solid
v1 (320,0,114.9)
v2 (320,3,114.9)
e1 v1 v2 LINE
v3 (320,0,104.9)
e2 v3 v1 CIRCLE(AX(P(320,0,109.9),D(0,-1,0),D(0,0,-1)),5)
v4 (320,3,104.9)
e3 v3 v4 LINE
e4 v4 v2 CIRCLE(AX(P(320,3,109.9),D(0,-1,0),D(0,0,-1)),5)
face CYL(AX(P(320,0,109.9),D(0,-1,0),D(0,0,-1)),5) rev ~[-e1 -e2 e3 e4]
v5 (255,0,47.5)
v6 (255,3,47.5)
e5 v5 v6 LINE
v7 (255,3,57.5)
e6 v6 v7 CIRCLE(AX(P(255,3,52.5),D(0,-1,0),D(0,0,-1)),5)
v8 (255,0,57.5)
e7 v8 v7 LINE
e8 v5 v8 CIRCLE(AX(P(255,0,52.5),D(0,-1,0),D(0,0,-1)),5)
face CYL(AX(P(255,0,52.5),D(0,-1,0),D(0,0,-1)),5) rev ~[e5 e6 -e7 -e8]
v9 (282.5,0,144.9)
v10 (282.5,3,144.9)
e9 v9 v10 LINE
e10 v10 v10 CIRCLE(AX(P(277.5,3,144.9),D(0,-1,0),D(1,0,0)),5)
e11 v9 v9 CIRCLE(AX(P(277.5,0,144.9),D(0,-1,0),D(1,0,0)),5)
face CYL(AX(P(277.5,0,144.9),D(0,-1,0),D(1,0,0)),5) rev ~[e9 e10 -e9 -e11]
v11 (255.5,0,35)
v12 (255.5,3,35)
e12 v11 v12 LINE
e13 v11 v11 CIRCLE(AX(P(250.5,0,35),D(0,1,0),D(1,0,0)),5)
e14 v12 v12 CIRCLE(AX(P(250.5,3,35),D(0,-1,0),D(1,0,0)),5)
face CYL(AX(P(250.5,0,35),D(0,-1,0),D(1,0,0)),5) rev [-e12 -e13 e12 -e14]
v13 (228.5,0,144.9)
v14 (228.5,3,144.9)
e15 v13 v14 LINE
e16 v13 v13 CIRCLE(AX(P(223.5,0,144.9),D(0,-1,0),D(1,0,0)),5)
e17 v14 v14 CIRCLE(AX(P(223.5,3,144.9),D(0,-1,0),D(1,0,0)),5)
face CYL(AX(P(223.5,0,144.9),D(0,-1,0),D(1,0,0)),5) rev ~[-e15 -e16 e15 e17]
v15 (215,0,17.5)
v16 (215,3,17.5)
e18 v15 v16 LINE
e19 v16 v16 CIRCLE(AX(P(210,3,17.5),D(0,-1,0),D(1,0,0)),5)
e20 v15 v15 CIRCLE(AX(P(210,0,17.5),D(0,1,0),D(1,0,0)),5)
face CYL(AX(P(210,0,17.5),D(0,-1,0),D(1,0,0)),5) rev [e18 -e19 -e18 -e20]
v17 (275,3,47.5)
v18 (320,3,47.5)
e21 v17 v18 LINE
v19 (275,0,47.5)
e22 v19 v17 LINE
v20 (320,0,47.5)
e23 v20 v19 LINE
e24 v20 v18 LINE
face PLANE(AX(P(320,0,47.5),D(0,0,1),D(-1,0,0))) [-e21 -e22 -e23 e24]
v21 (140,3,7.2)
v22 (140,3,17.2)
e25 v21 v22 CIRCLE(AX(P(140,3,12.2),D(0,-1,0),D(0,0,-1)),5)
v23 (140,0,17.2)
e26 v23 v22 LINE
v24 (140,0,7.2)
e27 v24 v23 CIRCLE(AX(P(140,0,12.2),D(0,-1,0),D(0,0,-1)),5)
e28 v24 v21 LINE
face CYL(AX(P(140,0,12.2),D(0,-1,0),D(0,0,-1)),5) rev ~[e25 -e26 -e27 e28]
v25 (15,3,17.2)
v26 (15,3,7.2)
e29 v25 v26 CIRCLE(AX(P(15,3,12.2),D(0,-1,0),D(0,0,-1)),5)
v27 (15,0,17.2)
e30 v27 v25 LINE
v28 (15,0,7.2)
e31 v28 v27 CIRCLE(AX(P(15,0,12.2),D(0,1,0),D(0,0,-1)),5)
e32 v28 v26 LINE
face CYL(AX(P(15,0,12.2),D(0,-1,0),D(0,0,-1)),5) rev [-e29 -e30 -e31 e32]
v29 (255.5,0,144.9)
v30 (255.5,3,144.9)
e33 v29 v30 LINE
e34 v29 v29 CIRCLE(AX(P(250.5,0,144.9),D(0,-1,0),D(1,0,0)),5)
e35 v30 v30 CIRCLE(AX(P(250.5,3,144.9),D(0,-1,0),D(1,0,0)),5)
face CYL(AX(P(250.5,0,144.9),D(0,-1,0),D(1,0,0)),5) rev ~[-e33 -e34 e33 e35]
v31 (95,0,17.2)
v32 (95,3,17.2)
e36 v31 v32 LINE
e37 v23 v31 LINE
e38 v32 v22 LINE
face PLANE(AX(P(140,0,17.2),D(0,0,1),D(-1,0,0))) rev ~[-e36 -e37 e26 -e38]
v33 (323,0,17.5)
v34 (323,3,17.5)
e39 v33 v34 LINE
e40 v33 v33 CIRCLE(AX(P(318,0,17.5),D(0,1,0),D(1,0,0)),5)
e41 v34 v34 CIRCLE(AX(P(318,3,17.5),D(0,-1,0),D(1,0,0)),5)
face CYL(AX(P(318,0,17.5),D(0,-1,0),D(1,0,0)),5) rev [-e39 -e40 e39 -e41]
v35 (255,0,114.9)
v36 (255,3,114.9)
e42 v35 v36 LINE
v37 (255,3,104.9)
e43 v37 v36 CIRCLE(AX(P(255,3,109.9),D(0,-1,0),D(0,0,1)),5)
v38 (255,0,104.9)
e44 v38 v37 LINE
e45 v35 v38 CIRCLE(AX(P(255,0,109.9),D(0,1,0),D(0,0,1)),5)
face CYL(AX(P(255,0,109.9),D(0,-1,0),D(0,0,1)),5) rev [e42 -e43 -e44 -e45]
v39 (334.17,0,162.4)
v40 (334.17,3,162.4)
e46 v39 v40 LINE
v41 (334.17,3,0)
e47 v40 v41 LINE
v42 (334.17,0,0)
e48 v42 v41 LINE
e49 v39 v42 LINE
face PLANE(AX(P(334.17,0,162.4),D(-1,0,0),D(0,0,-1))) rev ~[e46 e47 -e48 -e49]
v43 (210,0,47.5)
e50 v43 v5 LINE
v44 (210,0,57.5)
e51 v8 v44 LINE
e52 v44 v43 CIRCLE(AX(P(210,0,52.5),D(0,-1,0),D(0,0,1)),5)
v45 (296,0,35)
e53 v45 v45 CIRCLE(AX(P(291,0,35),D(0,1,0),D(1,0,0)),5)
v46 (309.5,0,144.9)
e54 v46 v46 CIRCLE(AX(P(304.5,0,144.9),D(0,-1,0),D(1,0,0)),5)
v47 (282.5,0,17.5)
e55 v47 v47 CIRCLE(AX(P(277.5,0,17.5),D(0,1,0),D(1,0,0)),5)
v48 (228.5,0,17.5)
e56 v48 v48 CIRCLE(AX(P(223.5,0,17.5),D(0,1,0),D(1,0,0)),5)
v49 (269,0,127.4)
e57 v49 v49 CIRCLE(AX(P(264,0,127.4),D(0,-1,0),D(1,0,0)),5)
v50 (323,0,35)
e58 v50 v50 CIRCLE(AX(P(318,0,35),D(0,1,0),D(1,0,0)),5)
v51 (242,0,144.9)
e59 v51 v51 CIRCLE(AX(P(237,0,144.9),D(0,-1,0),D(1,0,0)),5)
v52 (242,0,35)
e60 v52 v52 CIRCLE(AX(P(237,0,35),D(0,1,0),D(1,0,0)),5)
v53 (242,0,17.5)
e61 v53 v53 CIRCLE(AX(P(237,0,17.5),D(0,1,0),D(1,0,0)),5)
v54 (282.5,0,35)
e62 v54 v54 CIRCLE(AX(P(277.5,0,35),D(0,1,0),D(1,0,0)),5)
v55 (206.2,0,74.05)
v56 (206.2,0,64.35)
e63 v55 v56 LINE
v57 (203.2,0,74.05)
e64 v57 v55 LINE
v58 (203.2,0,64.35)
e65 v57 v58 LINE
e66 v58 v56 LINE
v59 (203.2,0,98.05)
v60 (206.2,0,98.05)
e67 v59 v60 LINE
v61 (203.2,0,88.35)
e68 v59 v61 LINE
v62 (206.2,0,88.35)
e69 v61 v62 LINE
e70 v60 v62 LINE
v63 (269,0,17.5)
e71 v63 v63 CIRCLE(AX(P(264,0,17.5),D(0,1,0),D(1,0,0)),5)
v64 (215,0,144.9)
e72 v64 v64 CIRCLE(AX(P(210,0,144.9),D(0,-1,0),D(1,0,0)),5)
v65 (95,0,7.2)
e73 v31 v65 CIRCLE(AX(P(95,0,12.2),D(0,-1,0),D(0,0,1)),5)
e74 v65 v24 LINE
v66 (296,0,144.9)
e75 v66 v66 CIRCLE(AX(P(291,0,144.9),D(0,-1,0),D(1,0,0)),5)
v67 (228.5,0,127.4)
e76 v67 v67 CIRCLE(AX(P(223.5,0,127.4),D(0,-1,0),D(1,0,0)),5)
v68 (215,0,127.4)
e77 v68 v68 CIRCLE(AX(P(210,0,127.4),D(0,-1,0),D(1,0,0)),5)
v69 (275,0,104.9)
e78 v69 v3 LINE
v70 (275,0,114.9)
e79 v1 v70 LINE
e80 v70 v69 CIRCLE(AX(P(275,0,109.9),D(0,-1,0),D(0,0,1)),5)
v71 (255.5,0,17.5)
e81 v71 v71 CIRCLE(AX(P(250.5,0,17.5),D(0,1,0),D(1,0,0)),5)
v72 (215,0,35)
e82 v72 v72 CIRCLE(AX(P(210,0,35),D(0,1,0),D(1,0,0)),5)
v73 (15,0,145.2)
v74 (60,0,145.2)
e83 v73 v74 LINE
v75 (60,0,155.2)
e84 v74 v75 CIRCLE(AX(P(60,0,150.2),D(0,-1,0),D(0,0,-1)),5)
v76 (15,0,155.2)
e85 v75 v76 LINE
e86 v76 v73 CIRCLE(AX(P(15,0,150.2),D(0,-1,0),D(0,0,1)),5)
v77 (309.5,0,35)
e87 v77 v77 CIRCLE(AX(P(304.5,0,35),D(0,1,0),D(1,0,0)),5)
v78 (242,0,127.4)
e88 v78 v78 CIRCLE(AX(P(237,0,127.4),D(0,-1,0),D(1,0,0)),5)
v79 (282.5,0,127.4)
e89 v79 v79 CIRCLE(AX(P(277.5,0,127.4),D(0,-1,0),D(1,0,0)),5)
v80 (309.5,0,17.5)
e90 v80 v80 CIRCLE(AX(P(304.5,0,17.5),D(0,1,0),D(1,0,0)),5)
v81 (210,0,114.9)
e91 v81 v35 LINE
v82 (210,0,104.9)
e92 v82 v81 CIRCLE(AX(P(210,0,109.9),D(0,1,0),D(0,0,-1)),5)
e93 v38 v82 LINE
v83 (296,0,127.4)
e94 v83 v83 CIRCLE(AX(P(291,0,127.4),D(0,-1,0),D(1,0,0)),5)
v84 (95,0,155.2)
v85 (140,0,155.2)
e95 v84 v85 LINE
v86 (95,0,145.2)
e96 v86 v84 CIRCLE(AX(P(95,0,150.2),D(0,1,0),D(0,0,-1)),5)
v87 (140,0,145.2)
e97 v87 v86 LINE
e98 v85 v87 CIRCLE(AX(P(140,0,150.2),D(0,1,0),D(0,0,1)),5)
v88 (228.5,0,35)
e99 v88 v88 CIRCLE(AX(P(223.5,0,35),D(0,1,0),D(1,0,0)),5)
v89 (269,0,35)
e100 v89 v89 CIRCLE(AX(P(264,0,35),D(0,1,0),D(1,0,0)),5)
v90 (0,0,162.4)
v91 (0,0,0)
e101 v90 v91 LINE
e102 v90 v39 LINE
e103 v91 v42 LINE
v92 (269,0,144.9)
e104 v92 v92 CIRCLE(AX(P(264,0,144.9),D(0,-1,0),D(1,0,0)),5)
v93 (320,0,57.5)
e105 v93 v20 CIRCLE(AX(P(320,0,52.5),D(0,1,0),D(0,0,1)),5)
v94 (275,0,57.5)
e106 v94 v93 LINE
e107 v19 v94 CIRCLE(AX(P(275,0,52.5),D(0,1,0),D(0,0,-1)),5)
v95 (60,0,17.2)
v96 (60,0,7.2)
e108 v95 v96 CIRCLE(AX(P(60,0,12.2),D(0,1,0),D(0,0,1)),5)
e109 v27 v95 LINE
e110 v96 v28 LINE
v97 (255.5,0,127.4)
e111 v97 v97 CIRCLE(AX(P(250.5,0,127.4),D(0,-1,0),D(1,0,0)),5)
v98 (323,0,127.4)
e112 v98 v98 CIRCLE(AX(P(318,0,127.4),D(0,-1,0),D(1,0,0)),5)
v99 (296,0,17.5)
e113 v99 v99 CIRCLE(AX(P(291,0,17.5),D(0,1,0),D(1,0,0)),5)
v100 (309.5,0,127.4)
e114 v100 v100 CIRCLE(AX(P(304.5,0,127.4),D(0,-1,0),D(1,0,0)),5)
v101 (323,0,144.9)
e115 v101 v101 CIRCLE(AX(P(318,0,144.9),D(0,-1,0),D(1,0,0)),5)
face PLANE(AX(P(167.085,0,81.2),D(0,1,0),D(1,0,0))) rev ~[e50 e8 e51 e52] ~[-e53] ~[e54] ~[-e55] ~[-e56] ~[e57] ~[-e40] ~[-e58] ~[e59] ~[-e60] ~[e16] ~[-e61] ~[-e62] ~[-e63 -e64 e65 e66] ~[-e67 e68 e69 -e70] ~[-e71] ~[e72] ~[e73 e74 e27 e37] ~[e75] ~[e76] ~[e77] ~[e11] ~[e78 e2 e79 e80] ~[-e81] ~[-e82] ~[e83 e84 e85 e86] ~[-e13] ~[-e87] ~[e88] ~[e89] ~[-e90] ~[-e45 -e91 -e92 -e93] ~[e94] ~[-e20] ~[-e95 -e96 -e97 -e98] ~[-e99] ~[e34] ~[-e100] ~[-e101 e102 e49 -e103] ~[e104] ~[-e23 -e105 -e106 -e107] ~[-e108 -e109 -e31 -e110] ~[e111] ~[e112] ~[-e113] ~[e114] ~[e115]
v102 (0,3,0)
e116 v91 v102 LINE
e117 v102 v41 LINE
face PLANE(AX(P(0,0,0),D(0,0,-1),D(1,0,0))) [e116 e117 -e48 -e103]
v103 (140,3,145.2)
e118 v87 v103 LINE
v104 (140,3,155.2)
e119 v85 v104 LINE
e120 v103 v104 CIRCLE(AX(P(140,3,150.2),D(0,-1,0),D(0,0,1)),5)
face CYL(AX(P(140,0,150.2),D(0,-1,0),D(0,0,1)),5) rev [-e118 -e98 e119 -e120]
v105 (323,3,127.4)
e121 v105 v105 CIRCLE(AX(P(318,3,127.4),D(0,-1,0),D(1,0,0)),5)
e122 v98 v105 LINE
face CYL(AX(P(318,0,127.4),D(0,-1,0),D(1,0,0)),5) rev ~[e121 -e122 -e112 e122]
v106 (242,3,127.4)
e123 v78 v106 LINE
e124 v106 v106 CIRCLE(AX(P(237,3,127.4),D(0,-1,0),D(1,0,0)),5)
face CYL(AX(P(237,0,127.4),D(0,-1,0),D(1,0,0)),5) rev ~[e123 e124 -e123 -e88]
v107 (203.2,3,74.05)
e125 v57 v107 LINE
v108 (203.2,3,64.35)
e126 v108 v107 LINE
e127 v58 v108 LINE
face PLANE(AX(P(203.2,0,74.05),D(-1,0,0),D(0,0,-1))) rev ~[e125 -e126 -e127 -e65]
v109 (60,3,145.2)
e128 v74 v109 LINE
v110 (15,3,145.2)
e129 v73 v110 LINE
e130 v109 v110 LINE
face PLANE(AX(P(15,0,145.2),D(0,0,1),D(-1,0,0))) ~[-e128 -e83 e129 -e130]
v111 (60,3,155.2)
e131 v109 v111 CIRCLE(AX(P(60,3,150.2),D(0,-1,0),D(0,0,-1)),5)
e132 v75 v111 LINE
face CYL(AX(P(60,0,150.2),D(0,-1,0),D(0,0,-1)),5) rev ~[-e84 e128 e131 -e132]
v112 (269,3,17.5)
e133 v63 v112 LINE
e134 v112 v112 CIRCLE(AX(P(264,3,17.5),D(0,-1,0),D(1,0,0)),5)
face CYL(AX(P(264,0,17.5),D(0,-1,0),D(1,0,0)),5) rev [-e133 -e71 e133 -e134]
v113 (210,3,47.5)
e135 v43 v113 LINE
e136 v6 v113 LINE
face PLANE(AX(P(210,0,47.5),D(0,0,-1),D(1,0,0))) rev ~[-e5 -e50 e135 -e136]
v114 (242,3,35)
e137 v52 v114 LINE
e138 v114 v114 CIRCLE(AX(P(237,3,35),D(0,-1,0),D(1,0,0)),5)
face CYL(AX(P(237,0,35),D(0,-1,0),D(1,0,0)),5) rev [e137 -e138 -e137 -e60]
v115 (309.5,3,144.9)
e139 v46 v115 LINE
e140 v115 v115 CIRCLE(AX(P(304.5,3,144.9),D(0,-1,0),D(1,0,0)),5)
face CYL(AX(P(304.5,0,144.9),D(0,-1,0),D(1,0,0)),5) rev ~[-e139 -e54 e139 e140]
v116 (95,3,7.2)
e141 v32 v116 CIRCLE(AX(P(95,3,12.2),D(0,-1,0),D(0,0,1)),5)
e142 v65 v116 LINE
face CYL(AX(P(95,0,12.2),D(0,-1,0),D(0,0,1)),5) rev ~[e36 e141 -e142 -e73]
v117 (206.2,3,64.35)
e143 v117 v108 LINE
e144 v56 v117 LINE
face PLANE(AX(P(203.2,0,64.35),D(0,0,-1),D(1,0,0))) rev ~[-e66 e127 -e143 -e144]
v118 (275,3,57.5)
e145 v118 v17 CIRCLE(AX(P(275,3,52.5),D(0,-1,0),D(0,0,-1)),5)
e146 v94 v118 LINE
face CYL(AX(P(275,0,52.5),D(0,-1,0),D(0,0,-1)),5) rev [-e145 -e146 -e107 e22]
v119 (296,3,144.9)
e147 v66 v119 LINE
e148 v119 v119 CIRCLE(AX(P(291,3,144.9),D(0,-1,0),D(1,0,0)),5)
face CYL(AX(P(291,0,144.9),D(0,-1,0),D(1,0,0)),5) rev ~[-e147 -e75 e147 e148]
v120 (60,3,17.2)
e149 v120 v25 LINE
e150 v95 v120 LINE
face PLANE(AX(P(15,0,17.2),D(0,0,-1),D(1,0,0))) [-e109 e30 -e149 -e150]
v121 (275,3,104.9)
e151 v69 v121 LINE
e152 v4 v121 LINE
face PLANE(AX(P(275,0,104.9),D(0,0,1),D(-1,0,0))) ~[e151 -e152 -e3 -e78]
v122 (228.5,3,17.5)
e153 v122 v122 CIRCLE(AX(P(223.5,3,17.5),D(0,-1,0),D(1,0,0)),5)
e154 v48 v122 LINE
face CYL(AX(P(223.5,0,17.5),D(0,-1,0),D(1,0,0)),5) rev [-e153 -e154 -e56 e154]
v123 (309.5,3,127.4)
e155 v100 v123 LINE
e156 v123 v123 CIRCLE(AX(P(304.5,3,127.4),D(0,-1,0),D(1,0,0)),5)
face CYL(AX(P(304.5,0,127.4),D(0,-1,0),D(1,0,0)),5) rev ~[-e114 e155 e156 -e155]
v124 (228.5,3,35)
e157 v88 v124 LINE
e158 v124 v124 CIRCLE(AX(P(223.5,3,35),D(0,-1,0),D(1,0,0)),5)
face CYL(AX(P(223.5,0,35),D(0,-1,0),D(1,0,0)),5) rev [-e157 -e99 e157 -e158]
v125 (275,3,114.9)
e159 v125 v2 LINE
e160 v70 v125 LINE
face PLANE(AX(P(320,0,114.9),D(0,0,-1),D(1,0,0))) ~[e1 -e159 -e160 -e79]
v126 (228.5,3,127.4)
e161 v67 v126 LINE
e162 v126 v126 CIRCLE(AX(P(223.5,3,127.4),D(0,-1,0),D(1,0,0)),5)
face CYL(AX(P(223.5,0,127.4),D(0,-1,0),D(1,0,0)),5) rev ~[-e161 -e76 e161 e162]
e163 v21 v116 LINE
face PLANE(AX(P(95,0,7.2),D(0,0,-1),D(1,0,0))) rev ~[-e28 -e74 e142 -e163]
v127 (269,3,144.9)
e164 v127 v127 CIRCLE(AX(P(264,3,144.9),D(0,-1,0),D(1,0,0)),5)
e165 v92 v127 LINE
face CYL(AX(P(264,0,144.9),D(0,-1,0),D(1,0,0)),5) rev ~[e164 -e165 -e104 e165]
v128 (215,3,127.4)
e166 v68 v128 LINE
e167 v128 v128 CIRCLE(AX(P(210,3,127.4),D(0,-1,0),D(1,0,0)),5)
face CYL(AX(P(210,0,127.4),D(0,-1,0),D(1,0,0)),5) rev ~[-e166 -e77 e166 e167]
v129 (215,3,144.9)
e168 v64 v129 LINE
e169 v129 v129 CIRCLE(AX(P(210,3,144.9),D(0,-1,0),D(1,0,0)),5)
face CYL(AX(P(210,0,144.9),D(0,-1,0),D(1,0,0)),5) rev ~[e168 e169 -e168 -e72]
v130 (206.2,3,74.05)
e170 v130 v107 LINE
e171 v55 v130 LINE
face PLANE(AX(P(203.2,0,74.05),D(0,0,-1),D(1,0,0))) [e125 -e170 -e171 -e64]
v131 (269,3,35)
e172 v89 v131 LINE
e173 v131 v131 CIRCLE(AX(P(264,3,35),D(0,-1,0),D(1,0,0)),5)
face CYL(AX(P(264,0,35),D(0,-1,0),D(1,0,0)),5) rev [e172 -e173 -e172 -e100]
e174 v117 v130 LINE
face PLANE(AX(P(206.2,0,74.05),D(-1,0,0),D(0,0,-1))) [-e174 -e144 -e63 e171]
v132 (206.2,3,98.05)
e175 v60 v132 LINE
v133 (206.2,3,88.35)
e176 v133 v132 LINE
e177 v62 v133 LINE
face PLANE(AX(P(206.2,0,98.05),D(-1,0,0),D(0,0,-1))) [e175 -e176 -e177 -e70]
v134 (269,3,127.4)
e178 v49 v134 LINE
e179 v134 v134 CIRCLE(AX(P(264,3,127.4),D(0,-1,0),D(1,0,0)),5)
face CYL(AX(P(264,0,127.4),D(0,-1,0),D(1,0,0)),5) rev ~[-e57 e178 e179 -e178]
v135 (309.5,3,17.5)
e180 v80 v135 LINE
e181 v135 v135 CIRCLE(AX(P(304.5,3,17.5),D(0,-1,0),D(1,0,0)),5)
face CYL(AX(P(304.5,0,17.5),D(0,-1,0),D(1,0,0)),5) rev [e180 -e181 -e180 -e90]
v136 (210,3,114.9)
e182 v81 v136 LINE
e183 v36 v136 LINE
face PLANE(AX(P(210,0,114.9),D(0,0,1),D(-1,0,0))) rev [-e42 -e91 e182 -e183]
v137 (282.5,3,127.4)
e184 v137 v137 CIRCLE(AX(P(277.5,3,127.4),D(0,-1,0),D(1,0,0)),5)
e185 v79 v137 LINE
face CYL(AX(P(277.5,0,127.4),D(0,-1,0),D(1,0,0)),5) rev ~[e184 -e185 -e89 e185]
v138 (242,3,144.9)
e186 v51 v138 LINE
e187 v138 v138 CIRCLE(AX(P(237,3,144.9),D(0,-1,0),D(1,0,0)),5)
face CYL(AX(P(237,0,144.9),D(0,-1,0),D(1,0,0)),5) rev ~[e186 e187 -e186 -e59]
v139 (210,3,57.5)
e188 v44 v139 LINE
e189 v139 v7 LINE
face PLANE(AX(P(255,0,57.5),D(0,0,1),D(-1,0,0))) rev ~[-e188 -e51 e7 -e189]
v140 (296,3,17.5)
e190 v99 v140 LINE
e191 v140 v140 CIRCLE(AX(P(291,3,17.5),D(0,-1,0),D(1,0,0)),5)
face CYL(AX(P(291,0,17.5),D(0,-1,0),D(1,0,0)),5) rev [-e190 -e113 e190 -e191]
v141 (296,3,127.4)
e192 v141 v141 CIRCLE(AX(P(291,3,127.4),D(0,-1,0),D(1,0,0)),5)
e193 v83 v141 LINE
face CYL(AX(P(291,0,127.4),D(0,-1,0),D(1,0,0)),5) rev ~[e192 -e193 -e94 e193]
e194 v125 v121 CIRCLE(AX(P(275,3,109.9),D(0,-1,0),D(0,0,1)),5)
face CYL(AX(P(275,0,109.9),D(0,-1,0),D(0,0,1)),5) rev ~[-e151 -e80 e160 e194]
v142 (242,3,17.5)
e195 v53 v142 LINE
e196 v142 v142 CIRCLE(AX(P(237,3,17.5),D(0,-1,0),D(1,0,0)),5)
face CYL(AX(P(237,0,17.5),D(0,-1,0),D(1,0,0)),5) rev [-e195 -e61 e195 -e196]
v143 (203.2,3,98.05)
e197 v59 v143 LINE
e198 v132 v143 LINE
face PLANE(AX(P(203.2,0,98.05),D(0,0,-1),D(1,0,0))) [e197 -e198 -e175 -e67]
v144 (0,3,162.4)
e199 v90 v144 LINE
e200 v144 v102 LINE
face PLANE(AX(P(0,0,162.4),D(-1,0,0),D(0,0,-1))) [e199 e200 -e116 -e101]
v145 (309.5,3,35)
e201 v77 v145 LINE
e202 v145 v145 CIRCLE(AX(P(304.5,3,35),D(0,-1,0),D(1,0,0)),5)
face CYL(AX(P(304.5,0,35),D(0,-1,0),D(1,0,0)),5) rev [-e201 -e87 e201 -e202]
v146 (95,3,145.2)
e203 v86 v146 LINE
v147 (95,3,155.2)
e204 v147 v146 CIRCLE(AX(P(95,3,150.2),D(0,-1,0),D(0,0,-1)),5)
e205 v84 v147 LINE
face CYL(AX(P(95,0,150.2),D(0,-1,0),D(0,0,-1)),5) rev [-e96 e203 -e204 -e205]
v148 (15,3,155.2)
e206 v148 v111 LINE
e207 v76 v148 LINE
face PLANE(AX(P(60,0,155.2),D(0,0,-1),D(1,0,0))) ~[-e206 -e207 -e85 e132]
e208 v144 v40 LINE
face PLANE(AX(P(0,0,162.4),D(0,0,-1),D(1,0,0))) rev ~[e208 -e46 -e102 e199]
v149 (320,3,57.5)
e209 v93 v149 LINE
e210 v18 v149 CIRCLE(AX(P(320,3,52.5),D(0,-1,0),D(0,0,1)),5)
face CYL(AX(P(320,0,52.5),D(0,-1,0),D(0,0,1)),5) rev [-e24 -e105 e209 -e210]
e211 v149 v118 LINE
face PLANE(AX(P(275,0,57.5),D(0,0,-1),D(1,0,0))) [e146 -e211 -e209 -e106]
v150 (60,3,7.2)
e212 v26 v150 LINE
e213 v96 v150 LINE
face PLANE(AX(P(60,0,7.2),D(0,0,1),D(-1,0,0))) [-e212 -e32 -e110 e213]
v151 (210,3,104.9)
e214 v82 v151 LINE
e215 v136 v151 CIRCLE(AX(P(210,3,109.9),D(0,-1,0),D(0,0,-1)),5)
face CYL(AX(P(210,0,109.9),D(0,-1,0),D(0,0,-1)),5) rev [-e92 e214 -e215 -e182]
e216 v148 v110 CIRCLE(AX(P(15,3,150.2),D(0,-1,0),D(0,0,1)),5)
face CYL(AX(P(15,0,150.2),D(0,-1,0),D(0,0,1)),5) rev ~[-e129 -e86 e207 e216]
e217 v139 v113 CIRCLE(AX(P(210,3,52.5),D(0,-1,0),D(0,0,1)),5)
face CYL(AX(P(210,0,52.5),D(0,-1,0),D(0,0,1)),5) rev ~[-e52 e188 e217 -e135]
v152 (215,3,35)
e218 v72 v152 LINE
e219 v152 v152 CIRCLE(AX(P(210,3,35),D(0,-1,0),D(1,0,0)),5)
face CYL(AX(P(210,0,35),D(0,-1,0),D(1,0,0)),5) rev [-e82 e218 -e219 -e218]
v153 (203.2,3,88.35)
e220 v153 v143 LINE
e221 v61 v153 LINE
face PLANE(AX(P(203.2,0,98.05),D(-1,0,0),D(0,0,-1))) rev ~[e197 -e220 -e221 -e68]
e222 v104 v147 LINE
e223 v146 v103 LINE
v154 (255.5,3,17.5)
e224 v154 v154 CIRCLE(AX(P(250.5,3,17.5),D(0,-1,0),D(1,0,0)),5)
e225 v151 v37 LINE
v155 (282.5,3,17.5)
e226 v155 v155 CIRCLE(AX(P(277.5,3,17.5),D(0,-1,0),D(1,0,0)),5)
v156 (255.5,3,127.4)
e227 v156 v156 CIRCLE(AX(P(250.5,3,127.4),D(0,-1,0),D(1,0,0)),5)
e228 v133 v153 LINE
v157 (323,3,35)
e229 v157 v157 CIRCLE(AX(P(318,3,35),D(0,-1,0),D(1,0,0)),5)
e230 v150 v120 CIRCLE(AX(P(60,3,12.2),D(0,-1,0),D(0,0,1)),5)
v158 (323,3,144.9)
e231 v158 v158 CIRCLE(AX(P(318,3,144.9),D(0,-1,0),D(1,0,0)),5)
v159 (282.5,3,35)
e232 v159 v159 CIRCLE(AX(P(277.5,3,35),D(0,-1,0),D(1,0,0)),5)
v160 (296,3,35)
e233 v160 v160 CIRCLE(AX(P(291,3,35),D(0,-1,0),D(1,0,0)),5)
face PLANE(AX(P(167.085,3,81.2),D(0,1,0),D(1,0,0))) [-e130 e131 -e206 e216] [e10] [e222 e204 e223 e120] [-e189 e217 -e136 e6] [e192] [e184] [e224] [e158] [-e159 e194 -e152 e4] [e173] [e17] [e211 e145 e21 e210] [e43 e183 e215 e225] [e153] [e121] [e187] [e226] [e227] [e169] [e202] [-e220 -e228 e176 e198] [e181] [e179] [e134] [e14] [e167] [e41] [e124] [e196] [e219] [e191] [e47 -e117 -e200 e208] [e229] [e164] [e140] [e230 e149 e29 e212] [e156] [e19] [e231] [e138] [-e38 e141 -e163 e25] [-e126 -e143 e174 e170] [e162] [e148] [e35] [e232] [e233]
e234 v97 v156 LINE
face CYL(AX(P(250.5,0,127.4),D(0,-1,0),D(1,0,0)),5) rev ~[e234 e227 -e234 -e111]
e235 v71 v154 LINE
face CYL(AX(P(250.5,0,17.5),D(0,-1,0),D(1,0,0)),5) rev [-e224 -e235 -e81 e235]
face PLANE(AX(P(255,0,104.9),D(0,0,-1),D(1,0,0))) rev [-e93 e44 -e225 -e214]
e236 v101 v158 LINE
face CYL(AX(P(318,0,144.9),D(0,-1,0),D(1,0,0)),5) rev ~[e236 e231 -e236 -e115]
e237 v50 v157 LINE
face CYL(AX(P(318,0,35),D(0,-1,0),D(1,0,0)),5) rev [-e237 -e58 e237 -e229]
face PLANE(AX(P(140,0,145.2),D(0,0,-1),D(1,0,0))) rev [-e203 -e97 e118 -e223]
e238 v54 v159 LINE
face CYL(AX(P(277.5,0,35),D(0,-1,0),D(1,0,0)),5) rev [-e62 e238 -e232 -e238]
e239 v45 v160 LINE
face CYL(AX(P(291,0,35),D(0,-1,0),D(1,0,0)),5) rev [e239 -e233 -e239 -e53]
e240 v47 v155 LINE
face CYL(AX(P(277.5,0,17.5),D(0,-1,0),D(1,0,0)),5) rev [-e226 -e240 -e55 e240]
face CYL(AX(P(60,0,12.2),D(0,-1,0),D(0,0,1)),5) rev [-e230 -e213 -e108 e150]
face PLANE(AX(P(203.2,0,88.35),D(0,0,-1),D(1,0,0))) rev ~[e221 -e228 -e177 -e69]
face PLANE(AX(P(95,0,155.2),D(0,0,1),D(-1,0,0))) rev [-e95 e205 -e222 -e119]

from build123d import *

# Parameters (mm, degrees)
SKETCH1_W           = 334.17
SKETCH1_H           = 162.4
BOSS_EXTRUDE1_DEPTH = 3
SKETCH2_R           = 5
CUT_EXTRUDE1_DEPTH  = 17
SKETCH3_W           = 3
SKETCH3_H           = 9.7
CUT_EXTRUDE3_DEPTH  = 45


with BuildPart() as part:
    # Sketch1 → Boss-Extrude1 (new body)
    with BuildSketch(Plane(origin=(0, 0, 0), x_dir=(1, 0, 0), z_dir=(0, 1, 0))):
        with Locations((167.085, -81.2)):
            Rectangle(SKETCH1_W, SKETCH1_H)
    extrude(amount=BOSS_EXTRUDE1_DEPTH)

    # Sketch2 → Cut-Extrude1 (cut)
    with BuildSketch(Plane(origin=(0, 0, 0), x_dir=(1, 0, 0), z_dir=(0, 1, 0))):
        with Locations((210, -17.5)):
            Circle(SKETCH2_R)
        with Locations((223.5, -17.5)):
            Circle(SKETCH2_R)
        with Locations((237, -17.5)):
            Circle(SKETCH2_R)
        with Locations((250.5, -17.5)):
            Circle(SKETCH2_R)
        with Locations((264, -17.5)):
            Circle(SKETCH2_R)
        with Locations((277.5, -17.5)):
            Circle(SKETCH2_R)
        with Locations((291, -17.5)):
            Circle(SKETCH2_R)
        with Locations((304.5, -17.5)):
            Circle(SKETCH2_R)
        with Locations((223.5, -35)):
            Circle(SKETCH2_R)
        with Locations((237, -35)):
            Circle(SKETCH2_R)
        with Locations((250.5, -35)):
            Circle(SKETCH2_R)
        with Locations((264, -35)):
            Circle(SKETCH2_R)
        with Locations((277.5, -35)):
            Circle(SKETCH2_R)
        with Locations((291, -35)):
            Circle(SKETCH2_R)
        with Locations((304.5, -35)):
            Circle(SKETCH2_R)
        with Locations((210, -35)):
            Circle(SKETCH2_R)
        with Locations((318, -17.5)):
            Circle(SKETCH2_R)
        with Locations((318, -35)):
            Circle(SKETCH2_R)
        with BuildLine():
            Line((210, -47.5), (255, -47.5))
            ThreePointArc((255, -47.5), (260, -52.5), (255, -57.5))
            Line((255, -57.5), (210, -57.5))
            ThreePointArc((210, -57.5), (205, -52.5), (210, -47.5))
        make_face()
        with BuildLine():
            Line((275, -57.5), (320, -57.5))
            ThreePointArc((320, -57.5), (325, -52.5), (320, -47.5))
            Line((320, -47.5), (275, -47.5))
            ThreePointArc((275, -47.5), (270, -52.5), (275, -57.5))
        make_face()
        with BuildLine():
            Line((15, -17.2), (60, -17.2))
            ThreePointArc((60, -17.2), (65, -12.2), (60, -7.2))
            Line((60, -7.2), (15, -7.2))
            ThreePointArc((15, -7.2), (10, -12.2), (15, -17.2))
        make_face()
        with BuildLine():
            Line((95, -7.2), (140, -7.2))
            ThreePointArc((140, -7.2), (145, -12.2), (140, -17.2))
            Line((140, -17.2), (95, -17.2))
            ThreePointArc((95, -17.2), (90, -12.2), (95, -7.2))
        make_face()
    cut_extrude1 = extrude(amount=CUT_EXTRUDE1_DEPTH, mode=Mode.SUBTRACT)

    # Mirror1: Cut-Extrude1 across plane
    add(cut_extrude1.mirror(Plane.XY.offset(81.2)), mode=Mode.SUBTRACT)

    # Sketch3 → Cut-Extrude3 (cut)
    with BuildSketch(Plane(origin=(0, 0, 0), x_dir=(1, 0, 0), z_dir=(0, 1, 0))):
        with Locations((204.7, -69.2)):
            Rectangle(SKETCH3_W, SKETCH3_H)
        with Locations((204.7, -93.2)):
            Rectangle(SKETCH3_W, SKETCH3_H)
    extrude(amount=CUT_EXTRUDE3_DEPTH, mode=Mode.SUBTRACT)


solid = part.part
